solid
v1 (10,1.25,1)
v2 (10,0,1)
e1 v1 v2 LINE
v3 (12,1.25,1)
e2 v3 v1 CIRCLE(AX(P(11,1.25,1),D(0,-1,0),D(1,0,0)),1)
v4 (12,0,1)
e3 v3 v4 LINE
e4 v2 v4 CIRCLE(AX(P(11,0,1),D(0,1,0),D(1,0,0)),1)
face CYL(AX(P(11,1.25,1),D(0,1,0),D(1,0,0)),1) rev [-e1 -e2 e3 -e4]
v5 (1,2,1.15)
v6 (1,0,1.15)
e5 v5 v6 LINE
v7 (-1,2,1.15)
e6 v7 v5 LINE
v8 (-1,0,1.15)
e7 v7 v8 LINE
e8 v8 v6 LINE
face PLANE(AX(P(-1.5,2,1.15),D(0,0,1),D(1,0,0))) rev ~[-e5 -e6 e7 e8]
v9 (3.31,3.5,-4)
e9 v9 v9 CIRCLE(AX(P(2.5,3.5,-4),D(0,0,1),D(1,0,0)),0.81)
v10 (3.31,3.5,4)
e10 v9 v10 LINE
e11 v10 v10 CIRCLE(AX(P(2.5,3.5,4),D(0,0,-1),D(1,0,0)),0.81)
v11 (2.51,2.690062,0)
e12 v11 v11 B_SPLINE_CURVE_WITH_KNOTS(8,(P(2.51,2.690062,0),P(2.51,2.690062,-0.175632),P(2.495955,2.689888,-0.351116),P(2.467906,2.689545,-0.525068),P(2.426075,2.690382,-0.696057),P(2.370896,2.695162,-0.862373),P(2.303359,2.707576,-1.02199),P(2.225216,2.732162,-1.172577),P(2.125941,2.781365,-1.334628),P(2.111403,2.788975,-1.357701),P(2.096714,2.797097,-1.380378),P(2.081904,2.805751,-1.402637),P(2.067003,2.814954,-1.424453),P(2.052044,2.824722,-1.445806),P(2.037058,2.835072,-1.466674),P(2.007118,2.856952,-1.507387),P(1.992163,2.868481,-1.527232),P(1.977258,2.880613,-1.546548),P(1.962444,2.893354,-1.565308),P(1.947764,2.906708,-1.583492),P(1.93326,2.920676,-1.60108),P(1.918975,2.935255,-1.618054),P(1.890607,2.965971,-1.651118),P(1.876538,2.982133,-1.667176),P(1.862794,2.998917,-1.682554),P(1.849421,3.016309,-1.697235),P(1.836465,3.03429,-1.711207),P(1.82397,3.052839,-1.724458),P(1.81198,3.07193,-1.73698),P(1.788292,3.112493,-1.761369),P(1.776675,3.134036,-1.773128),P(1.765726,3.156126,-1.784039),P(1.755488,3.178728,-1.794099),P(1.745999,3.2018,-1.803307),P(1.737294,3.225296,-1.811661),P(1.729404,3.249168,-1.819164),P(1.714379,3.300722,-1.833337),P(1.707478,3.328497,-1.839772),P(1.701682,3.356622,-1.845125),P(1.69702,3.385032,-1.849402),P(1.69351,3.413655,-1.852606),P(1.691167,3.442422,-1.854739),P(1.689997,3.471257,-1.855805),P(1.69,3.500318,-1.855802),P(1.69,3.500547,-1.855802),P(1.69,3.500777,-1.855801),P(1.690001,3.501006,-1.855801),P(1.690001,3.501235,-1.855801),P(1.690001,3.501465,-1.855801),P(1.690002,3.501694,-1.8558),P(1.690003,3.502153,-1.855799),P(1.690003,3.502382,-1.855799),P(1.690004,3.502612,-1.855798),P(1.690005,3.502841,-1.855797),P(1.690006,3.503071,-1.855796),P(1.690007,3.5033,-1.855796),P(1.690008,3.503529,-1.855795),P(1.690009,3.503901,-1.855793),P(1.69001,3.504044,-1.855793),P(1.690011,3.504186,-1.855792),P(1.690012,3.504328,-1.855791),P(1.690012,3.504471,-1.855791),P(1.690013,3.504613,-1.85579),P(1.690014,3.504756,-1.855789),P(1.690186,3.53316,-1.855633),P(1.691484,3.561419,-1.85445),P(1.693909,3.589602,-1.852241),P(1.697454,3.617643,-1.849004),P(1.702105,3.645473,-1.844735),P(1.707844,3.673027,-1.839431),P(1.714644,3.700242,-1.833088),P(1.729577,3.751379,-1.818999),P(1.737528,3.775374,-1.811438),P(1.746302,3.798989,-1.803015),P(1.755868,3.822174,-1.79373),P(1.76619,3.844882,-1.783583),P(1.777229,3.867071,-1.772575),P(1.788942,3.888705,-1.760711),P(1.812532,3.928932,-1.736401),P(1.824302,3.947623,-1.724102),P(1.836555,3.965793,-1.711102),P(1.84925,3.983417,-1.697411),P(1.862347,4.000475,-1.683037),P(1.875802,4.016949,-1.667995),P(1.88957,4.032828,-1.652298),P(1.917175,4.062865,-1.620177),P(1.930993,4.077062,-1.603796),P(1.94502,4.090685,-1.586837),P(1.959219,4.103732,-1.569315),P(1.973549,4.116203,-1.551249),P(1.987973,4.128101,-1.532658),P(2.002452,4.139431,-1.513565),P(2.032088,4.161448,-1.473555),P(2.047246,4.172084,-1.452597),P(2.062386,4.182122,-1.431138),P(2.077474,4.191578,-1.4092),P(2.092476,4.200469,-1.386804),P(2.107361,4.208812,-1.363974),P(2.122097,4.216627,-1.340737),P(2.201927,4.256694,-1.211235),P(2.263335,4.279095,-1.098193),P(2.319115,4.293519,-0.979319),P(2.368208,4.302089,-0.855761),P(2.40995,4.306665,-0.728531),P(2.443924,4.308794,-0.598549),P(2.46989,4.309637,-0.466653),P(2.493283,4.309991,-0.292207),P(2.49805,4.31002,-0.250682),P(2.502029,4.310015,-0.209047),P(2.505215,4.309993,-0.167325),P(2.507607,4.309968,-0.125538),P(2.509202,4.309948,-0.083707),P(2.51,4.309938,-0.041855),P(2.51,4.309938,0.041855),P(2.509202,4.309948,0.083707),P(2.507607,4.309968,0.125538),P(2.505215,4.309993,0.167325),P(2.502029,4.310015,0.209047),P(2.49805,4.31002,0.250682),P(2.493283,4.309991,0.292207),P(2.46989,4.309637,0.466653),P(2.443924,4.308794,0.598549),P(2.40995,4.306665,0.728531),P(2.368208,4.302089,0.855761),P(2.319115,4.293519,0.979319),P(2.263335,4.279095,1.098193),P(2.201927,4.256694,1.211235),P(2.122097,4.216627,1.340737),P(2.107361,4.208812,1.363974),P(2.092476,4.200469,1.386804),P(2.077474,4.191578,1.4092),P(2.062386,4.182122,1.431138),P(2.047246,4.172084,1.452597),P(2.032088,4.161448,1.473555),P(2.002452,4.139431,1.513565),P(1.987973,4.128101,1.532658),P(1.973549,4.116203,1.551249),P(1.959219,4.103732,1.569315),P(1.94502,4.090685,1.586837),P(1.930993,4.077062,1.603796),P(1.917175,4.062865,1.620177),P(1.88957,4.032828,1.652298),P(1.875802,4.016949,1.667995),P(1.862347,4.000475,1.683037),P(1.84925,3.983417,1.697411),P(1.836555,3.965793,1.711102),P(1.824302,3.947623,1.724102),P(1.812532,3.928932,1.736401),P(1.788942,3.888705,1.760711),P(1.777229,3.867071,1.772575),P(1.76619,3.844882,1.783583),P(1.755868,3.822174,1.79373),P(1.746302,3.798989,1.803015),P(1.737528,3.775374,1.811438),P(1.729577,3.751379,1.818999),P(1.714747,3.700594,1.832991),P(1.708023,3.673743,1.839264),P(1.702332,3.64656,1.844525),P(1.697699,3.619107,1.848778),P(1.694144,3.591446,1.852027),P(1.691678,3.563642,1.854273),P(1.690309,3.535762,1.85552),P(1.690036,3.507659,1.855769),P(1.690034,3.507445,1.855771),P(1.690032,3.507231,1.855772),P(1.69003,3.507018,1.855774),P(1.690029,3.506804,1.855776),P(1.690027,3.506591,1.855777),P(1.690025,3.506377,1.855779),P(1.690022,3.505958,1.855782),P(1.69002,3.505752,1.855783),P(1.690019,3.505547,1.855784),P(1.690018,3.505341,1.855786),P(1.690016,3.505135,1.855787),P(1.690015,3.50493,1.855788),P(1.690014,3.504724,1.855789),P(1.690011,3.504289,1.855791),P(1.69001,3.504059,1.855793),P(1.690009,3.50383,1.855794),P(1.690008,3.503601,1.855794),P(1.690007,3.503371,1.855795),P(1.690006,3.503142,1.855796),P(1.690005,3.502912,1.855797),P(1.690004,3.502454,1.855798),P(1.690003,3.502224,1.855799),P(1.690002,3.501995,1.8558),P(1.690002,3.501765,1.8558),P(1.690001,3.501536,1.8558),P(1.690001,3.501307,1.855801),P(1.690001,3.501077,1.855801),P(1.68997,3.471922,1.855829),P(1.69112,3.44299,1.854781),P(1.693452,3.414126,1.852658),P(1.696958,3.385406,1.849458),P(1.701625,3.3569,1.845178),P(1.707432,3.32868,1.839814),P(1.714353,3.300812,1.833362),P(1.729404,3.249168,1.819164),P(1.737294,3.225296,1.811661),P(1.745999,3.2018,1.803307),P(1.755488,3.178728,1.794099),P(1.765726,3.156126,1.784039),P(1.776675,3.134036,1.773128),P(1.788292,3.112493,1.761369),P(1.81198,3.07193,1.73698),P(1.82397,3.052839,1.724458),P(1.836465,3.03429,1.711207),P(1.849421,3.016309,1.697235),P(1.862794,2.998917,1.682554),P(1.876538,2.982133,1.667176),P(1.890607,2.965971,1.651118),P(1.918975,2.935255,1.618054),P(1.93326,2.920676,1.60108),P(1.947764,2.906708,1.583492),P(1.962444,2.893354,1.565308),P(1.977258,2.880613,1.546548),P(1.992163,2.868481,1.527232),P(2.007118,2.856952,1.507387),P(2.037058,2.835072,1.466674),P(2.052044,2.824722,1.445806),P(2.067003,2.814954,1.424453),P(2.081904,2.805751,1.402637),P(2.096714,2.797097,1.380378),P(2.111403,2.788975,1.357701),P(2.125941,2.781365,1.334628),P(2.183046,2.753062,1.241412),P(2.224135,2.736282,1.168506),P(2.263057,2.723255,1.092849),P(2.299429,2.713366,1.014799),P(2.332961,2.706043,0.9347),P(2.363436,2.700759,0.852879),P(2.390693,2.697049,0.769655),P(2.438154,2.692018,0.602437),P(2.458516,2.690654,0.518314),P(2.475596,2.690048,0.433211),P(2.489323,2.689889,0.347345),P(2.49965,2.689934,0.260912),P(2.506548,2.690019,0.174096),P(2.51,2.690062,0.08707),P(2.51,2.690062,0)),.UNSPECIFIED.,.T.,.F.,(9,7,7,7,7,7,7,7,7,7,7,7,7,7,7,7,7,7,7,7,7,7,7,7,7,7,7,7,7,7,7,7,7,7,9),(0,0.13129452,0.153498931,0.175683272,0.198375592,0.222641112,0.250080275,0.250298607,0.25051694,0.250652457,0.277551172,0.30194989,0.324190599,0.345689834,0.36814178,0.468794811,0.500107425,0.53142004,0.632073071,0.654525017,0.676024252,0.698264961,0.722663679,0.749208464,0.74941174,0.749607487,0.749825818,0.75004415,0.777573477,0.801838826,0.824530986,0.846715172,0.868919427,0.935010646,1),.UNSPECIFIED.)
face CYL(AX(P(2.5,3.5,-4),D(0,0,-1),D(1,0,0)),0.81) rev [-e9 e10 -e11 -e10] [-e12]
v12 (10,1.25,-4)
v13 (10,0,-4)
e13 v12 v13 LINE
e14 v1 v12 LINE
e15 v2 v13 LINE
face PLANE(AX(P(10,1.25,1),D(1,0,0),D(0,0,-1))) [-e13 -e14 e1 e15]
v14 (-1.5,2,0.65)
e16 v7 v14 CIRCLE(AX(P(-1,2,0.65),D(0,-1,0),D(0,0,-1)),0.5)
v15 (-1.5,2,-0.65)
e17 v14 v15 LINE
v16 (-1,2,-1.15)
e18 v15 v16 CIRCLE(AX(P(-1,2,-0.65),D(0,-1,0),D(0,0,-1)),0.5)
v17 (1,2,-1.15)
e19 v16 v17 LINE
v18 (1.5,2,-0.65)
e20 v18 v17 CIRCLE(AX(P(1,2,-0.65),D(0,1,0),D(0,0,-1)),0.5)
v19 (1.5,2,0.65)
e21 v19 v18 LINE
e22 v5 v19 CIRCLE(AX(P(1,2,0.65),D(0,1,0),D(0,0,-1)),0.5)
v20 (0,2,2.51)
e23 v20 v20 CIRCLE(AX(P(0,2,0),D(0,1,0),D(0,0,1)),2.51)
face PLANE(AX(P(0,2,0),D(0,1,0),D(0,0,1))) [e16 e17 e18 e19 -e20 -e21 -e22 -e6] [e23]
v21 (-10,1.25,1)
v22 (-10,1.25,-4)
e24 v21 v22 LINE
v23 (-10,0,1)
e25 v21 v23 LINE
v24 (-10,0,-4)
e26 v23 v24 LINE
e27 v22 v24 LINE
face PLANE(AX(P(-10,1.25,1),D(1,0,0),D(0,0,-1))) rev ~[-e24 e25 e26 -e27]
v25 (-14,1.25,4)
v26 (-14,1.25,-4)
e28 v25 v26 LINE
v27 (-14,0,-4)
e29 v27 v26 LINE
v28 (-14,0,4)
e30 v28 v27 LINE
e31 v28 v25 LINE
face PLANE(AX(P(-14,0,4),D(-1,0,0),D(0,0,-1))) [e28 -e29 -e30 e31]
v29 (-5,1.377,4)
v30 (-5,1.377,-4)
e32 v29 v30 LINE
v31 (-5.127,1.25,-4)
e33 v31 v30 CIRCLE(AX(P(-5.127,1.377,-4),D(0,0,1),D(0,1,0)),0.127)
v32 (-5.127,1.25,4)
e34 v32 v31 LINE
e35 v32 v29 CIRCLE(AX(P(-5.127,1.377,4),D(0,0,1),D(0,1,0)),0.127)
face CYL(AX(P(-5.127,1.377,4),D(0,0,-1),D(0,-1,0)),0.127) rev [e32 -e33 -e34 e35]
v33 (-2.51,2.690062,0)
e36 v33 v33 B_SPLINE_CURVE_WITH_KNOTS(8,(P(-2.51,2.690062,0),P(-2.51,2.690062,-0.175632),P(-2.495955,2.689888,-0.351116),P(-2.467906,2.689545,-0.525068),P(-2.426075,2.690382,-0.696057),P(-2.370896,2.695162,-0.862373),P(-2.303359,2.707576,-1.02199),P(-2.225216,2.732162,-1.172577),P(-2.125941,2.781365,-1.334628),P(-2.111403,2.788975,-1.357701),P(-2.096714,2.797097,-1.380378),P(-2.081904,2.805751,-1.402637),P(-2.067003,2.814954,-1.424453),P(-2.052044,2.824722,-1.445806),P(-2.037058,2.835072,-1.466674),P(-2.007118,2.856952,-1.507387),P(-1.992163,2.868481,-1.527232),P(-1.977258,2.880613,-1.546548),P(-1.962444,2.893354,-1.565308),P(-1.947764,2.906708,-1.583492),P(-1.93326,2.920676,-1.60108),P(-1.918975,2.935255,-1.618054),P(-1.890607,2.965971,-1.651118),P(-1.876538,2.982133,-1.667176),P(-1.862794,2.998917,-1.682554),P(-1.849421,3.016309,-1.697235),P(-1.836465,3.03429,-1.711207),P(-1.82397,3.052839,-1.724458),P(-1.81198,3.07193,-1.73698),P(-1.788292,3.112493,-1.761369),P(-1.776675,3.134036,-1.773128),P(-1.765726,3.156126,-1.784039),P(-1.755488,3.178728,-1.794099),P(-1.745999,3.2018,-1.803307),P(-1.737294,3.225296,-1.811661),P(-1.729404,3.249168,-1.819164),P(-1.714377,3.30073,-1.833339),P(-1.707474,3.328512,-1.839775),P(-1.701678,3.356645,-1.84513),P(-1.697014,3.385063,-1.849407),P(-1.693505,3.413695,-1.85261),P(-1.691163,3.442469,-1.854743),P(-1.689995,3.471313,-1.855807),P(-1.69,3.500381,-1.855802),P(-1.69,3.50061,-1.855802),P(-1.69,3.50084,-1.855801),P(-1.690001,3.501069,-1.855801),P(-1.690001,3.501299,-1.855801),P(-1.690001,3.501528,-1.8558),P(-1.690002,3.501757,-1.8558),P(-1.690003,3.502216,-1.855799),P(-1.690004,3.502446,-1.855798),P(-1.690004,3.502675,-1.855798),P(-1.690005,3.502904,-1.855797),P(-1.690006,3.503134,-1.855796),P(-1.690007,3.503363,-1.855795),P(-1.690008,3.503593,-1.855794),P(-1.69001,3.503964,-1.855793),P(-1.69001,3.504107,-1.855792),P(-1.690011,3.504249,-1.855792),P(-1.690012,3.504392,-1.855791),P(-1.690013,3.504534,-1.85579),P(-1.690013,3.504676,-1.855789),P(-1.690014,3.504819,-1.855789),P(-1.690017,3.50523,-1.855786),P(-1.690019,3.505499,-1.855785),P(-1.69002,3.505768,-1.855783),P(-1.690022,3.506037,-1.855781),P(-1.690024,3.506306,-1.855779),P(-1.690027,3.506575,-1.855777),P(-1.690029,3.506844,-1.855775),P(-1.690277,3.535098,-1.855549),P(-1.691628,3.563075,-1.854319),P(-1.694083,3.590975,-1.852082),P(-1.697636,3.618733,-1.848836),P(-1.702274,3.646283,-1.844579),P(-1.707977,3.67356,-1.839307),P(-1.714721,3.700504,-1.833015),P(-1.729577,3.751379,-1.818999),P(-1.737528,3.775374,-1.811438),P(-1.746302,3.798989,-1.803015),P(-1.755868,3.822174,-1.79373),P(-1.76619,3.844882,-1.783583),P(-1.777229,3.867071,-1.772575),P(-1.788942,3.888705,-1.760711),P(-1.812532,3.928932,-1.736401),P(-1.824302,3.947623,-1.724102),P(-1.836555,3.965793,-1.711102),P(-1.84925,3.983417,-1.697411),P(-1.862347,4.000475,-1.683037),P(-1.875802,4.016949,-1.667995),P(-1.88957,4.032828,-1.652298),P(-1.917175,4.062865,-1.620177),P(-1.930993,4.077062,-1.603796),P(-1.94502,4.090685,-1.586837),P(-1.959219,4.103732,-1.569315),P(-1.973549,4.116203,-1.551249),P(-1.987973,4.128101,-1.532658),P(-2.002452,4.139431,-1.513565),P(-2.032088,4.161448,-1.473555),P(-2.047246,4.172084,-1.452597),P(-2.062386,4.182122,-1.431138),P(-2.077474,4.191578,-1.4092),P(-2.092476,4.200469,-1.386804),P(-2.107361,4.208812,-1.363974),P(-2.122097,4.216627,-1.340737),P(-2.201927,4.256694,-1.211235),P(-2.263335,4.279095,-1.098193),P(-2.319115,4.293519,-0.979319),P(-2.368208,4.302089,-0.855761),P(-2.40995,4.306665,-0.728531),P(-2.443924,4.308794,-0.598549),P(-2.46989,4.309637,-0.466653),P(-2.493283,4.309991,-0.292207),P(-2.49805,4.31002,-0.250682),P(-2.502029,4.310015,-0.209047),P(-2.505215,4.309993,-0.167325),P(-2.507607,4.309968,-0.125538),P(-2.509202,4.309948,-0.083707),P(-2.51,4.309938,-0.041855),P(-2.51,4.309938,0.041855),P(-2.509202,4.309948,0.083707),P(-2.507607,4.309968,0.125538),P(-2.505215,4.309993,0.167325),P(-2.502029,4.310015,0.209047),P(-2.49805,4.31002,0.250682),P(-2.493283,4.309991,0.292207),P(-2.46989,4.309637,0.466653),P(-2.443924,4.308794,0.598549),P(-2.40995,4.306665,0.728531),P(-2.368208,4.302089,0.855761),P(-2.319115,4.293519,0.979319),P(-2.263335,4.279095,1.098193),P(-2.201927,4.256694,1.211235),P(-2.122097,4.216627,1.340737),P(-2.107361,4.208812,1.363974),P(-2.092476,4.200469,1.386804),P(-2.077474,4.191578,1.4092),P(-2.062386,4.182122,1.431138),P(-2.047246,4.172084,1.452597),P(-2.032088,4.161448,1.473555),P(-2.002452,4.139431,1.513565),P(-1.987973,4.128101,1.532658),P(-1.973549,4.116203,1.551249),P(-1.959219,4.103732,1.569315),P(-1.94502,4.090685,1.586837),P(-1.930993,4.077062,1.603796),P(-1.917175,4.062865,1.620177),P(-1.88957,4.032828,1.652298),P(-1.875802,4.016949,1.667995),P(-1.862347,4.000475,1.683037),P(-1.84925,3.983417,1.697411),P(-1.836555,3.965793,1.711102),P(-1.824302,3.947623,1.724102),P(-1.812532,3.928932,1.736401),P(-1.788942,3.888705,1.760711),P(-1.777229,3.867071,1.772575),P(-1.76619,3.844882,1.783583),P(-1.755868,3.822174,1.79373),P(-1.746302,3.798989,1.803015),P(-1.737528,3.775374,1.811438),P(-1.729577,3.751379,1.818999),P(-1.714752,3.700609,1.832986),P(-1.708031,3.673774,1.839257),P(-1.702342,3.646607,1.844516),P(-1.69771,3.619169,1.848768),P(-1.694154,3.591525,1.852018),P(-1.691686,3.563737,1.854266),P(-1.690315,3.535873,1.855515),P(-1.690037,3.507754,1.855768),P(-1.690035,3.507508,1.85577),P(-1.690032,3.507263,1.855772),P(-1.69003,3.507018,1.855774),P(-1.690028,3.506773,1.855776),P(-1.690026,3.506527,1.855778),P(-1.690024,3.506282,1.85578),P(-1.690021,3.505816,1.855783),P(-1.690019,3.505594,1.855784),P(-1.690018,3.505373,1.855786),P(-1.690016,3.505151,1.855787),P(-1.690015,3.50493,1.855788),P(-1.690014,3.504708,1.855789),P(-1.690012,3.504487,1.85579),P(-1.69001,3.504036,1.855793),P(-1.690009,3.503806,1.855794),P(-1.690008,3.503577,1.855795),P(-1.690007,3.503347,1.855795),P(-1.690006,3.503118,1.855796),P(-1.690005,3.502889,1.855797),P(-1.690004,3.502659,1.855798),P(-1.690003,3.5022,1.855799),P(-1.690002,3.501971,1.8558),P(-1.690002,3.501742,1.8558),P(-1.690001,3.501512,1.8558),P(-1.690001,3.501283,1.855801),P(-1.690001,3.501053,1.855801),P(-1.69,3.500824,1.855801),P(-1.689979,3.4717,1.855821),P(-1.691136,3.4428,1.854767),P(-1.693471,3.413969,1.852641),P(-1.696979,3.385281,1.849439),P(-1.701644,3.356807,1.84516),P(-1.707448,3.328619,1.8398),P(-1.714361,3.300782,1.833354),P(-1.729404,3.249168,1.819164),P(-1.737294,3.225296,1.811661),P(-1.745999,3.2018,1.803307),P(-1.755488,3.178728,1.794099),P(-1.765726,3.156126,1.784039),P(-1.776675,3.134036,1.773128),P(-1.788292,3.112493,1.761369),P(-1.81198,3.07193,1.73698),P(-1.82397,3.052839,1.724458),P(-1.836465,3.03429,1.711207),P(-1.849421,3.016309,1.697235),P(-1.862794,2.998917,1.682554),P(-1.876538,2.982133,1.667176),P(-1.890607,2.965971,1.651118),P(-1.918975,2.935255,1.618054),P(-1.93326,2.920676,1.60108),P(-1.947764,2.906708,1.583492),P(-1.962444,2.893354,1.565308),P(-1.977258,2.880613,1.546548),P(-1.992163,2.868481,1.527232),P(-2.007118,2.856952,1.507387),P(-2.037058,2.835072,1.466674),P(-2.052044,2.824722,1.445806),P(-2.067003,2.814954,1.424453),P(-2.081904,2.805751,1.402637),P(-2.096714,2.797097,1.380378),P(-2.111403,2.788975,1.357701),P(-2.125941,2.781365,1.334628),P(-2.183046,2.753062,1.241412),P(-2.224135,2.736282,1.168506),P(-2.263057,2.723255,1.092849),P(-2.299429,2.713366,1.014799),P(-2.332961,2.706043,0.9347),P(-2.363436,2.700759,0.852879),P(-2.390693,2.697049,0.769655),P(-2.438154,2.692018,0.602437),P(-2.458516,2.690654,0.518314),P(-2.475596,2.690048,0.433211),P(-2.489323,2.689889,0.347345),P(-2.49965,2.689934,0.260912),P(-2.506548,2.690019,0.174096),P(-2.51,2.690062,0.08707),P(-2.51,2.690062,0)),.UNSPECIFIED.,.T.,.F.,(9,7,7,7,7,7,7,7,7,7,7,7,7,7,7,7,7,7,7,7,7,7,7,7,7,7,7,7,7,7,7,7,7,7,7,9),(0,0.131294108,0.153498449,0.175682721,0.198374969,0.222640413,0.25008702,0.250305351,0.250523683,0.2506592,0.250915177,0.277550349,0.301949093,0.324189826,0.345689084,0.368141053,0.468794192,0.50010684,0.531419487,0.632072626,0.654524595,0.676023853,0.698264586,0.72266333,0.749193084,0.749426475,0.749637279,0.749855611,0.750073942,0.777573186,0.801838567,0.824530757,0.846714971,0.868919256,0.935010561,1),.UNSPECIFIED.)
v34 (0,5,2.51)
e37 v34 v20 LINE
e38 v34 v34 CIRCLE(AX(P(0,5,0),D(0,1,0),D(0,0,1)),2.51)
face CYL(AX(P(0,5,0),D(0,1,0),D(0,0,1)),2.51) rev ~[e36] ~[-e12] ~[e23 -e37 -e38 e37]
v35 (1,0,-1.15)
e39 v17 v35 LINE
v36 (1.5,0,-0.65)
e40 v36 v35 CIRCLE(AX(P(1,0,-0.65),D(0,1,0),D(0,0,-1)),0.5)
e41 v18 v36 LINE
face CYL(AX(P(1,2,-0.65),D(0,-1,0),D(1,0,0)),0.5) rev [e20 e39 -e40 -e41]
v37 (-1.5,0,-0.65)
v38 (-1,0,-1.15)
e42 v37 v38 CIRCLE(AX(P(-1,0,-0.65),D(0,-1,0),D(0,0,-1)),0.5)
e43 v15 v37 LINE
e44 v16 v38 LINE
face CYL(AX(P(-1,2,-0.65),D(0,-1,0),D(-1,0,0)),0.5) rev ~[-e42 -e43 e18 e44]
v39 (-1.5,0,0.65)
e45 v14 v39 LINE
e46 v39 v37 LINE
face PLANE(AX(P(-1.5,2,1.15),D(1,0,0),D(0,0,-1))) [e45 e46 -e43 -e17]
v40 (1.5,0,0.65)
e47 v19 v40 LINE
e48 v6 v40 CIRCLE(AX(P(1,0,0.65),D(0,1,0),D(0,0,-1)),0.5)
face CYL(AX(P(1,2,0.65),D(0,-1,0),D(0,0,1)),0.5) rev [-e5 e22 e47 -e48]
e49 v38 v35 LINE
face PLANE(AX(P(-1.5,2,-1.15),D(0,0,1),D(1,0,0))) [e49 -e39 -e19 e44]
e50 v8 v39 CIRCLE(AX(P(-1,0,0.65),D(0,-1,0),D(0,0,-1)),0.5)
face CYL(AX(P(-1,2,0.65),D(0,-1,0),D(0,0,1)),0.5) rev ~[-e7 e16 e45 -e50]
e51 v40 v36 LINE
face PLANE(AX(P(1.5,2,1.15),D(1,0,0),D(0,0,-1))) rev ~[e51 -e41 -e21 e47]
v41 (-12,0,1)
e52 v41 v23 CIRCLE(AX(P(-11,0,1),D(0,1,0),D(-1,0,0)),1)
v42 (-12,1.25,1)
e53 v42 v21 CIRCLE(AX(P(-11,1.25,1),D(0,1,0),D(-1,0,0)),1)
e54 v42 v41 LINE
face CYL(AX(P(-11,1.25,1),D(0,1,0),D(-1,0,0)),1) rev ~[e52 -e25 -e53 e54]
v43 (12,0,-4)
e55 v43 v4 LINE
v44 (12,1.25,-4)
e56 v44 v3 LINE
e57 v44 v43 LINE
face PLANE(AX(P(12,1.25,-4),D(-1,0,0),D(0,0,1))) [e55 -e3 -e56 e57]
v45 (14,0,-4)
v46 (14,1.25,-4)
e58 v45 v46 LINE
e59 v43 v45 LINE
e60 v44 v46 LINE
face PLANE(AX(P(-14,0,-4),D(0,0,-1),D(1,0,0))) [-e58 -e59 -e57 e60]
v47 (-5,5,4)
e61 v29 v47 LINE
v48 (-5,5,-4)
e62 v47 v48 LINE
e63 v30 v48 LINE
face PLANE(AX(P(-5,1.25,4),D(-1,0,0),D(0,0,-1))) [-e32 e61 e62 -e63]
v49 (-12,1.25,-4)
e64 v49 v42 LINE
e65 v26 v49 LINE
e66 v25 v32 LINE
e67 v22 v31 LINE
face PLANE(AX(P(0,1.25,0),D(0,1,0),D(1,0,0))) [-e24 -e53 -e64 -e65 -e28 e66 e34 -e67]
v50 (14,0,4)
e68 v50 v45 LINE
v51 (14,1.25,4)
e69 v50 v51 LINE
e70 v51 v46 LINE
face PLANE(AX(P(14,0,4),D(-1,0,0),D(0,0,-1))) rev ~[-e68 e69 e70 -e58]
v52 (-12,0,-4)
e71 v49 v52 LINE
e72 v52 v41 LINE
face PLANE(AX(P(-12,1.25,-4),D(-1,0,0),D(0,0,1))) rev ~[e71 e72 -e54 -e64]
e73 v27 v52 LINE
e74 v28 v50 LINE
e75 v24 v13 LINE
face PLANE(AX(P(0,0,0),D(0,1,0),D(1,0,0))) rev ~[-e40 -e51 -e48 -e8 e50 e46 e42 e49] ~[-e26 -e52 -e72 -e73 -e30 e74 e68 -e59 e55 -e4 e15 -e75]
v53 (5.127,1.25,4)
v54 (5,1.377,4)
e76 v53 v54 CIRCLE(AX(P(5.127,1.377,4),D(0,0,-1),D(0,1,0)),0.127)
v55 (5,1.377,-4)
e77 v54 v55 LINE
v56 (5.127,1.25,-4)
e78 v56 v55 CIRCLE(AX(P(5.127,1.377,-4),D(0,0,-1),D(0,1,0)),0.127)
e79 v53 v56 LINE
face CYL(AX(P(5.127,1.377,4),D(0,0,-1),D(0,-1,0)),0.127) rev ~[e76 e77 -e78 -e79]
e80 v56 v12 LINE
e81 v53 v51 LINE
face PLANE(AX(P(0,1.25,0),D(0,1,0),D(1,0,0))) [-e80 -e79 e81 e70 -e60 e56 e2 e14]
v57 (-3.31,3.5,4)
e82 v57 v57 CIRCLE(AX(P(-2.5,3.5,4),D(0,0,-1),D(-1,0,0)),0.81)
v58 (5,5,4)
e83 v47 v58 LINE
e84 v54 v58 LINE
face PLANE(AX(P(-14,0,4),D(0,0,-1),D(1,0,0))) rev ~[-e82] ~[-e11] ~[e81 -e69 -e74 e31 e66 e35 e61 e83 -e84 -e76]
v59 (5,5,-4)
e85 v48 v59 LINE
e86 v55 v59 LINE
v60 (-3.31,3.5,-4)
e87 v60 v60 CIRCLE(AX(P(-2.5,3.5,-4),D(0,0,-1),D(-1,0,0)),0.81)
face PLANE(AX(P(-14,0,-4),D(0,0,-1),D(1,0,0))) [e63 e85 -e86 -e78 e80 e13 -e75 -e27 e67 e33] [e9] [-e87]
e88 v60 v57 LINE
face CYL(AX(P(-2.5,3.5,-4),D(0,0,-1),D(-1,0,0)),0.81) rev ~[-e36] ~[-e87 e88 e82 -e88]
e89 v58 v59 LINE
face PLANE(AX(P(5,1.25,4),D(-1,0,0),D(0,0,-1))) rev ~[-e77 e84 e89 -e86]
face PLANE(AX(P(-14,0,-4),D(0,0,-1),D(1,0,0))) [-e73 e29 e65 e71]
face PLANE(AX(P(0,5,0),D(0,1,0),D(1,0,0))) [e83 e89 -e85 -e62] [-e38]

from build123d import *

# Parameters (mm, degrees)
SKETCH1_W           = 28
SKETCH1_H           = 8
BOSS_EXTRUDE1_DEPTH = 1.25
SKETCH2_W           = 10
SKETCH2_H           = 8
BOSS_EXTRUDE2_DEPTH = 3.75
SKETCH3_R           = 2.51
CUT_EXTRUDE1_DEPTH  = 3
SKETCH4_W           = 3
SKETCH4_H           = 2.3
CUT_EXTRUDE2_DEPTH  = 15.866068747
CUT_EXTRUDE4_DEPTH  = 16.035374954
SKETCH7_R           = 0.81
CUT_EXTRUDE5_DEPTH  = 17.881943016
FILLET1_R           = 0.5
FILLET2_R           = 0.127


with BuildPart() as part:
    # Sketch1 → Boss-Extrude1 (new body)
    with BuildSketch(Plane(origin=(0, 0, 0), x_dir=(1, 0, 0), z_dir=(0, 1, 0))):
        Rectangle(SKETCH1_W, SKETCH1_H)
    extrude(amount=BOSS_EXTRUDE1_DEPTH)

    # Sketch2 → Boss-Extrude2 (add)
    with BuildSketch(Plane(origin=(0, 1.25, 0), x_dir=(1, 0, 0), z_dir=(0, 1, 0))):
        Rectangle(SKETCH2_W, SKETCH2_H)
    extrude(amount=BOSS_EXTRUDE2_DEPTH)

    # Sketch3 → Cut-Extrude1 (cut)
    with BuildSketch(Plane(origin=(0, 5, 0), x_dir=(1, 0, 0), z_dir=(0, 1, 0))):
        with Locations(Location((0, 0, 0), (0, 0, 270))):
            Circle(SKETCH3_R)
    extrude(amount=-CUT_EXTRUDE1_DEPTH, mode=Mode.SUBTRACT)

    # Sketch4 → Cut-Extrude2 (cut, through all)
    with BuildSketch(Plane(origin=(0, 2, 0), x_dir=(1, 0, 0), z_dir=(0, 1, 0))):
        Rectangle(SKETCH4_W, SKETCH4_H)
    extrude(amount=-CUT_EXTRUDE2_DEPTH, mode=Mode.SUBTRACT)

    # Sketch6 → Cut-Extrude4 (cut, through all)
    with BuildSketch(Plane(origin=(0, 1.25, 0), x_dir=(1, 0, 0), z_dir=(0, 1, 0))):
        with BuildLine():
            Line((12, 4), (12, -1))
            ThreePointArc((12, -1), (11, -2), (10, -1))
            Line((10, -1), (10, 4))
            Line((10, 4), (12, 4))
        make_face()
        with BuildLine():
            Line((-12, 4), (-12, -1))
            ThreePointArc((-12, -1), (-11, -2), (-10, -1))
            Line((-10, -1), (-10, 4))
            Line((-10, 4), (-12, 4))
        make_face()
    extrude(amount=-CUT_EXTRUDE4_DEPTH, mode=Mode.SUBTRACT)

    # Sketch7 → Cut-Extrude5 (cut, through all)
    with BuildSketch(Plane(origin=(0, 0, -4), x_dir=(-1, 0, 0), z_dir=(0, 0, -1))):
        with Locations((2.5, 3.5)):
            Circle(SKETCH7_R)
    cut_extrude5 = extrude(amount=-CUT_EXTRUDE5_DEPTH, mode=Mode.SUBTRACT)

    # Mirror1: Cut-Extrude5 across plane
    add(cut_extrude5.mirror(Plane.ZY), mode=Mode.SUBTRACT)

    # Fillet1
    fillet1_edges = [part.edges().sort_by_distance(p)[0] for p in [
        (-1.5, 1, -1.15),
        (1.5, 1, -1.15),
        (1.5, 1, 1.15),
        (-1.5, 1, 1.15),
    ]]
    fillet(fillet1_edges, radius=FILLET1_R)

    # Fillet2
    fillet2_edges = [part.edges().sort_by_distance(p)[0] for p in [
        (5, 1.25, 0),
        (-5, 1.25, 0),
    ]]
    fillet(fillet2_edges, radius=FILLET2_R)


solid = part.part
